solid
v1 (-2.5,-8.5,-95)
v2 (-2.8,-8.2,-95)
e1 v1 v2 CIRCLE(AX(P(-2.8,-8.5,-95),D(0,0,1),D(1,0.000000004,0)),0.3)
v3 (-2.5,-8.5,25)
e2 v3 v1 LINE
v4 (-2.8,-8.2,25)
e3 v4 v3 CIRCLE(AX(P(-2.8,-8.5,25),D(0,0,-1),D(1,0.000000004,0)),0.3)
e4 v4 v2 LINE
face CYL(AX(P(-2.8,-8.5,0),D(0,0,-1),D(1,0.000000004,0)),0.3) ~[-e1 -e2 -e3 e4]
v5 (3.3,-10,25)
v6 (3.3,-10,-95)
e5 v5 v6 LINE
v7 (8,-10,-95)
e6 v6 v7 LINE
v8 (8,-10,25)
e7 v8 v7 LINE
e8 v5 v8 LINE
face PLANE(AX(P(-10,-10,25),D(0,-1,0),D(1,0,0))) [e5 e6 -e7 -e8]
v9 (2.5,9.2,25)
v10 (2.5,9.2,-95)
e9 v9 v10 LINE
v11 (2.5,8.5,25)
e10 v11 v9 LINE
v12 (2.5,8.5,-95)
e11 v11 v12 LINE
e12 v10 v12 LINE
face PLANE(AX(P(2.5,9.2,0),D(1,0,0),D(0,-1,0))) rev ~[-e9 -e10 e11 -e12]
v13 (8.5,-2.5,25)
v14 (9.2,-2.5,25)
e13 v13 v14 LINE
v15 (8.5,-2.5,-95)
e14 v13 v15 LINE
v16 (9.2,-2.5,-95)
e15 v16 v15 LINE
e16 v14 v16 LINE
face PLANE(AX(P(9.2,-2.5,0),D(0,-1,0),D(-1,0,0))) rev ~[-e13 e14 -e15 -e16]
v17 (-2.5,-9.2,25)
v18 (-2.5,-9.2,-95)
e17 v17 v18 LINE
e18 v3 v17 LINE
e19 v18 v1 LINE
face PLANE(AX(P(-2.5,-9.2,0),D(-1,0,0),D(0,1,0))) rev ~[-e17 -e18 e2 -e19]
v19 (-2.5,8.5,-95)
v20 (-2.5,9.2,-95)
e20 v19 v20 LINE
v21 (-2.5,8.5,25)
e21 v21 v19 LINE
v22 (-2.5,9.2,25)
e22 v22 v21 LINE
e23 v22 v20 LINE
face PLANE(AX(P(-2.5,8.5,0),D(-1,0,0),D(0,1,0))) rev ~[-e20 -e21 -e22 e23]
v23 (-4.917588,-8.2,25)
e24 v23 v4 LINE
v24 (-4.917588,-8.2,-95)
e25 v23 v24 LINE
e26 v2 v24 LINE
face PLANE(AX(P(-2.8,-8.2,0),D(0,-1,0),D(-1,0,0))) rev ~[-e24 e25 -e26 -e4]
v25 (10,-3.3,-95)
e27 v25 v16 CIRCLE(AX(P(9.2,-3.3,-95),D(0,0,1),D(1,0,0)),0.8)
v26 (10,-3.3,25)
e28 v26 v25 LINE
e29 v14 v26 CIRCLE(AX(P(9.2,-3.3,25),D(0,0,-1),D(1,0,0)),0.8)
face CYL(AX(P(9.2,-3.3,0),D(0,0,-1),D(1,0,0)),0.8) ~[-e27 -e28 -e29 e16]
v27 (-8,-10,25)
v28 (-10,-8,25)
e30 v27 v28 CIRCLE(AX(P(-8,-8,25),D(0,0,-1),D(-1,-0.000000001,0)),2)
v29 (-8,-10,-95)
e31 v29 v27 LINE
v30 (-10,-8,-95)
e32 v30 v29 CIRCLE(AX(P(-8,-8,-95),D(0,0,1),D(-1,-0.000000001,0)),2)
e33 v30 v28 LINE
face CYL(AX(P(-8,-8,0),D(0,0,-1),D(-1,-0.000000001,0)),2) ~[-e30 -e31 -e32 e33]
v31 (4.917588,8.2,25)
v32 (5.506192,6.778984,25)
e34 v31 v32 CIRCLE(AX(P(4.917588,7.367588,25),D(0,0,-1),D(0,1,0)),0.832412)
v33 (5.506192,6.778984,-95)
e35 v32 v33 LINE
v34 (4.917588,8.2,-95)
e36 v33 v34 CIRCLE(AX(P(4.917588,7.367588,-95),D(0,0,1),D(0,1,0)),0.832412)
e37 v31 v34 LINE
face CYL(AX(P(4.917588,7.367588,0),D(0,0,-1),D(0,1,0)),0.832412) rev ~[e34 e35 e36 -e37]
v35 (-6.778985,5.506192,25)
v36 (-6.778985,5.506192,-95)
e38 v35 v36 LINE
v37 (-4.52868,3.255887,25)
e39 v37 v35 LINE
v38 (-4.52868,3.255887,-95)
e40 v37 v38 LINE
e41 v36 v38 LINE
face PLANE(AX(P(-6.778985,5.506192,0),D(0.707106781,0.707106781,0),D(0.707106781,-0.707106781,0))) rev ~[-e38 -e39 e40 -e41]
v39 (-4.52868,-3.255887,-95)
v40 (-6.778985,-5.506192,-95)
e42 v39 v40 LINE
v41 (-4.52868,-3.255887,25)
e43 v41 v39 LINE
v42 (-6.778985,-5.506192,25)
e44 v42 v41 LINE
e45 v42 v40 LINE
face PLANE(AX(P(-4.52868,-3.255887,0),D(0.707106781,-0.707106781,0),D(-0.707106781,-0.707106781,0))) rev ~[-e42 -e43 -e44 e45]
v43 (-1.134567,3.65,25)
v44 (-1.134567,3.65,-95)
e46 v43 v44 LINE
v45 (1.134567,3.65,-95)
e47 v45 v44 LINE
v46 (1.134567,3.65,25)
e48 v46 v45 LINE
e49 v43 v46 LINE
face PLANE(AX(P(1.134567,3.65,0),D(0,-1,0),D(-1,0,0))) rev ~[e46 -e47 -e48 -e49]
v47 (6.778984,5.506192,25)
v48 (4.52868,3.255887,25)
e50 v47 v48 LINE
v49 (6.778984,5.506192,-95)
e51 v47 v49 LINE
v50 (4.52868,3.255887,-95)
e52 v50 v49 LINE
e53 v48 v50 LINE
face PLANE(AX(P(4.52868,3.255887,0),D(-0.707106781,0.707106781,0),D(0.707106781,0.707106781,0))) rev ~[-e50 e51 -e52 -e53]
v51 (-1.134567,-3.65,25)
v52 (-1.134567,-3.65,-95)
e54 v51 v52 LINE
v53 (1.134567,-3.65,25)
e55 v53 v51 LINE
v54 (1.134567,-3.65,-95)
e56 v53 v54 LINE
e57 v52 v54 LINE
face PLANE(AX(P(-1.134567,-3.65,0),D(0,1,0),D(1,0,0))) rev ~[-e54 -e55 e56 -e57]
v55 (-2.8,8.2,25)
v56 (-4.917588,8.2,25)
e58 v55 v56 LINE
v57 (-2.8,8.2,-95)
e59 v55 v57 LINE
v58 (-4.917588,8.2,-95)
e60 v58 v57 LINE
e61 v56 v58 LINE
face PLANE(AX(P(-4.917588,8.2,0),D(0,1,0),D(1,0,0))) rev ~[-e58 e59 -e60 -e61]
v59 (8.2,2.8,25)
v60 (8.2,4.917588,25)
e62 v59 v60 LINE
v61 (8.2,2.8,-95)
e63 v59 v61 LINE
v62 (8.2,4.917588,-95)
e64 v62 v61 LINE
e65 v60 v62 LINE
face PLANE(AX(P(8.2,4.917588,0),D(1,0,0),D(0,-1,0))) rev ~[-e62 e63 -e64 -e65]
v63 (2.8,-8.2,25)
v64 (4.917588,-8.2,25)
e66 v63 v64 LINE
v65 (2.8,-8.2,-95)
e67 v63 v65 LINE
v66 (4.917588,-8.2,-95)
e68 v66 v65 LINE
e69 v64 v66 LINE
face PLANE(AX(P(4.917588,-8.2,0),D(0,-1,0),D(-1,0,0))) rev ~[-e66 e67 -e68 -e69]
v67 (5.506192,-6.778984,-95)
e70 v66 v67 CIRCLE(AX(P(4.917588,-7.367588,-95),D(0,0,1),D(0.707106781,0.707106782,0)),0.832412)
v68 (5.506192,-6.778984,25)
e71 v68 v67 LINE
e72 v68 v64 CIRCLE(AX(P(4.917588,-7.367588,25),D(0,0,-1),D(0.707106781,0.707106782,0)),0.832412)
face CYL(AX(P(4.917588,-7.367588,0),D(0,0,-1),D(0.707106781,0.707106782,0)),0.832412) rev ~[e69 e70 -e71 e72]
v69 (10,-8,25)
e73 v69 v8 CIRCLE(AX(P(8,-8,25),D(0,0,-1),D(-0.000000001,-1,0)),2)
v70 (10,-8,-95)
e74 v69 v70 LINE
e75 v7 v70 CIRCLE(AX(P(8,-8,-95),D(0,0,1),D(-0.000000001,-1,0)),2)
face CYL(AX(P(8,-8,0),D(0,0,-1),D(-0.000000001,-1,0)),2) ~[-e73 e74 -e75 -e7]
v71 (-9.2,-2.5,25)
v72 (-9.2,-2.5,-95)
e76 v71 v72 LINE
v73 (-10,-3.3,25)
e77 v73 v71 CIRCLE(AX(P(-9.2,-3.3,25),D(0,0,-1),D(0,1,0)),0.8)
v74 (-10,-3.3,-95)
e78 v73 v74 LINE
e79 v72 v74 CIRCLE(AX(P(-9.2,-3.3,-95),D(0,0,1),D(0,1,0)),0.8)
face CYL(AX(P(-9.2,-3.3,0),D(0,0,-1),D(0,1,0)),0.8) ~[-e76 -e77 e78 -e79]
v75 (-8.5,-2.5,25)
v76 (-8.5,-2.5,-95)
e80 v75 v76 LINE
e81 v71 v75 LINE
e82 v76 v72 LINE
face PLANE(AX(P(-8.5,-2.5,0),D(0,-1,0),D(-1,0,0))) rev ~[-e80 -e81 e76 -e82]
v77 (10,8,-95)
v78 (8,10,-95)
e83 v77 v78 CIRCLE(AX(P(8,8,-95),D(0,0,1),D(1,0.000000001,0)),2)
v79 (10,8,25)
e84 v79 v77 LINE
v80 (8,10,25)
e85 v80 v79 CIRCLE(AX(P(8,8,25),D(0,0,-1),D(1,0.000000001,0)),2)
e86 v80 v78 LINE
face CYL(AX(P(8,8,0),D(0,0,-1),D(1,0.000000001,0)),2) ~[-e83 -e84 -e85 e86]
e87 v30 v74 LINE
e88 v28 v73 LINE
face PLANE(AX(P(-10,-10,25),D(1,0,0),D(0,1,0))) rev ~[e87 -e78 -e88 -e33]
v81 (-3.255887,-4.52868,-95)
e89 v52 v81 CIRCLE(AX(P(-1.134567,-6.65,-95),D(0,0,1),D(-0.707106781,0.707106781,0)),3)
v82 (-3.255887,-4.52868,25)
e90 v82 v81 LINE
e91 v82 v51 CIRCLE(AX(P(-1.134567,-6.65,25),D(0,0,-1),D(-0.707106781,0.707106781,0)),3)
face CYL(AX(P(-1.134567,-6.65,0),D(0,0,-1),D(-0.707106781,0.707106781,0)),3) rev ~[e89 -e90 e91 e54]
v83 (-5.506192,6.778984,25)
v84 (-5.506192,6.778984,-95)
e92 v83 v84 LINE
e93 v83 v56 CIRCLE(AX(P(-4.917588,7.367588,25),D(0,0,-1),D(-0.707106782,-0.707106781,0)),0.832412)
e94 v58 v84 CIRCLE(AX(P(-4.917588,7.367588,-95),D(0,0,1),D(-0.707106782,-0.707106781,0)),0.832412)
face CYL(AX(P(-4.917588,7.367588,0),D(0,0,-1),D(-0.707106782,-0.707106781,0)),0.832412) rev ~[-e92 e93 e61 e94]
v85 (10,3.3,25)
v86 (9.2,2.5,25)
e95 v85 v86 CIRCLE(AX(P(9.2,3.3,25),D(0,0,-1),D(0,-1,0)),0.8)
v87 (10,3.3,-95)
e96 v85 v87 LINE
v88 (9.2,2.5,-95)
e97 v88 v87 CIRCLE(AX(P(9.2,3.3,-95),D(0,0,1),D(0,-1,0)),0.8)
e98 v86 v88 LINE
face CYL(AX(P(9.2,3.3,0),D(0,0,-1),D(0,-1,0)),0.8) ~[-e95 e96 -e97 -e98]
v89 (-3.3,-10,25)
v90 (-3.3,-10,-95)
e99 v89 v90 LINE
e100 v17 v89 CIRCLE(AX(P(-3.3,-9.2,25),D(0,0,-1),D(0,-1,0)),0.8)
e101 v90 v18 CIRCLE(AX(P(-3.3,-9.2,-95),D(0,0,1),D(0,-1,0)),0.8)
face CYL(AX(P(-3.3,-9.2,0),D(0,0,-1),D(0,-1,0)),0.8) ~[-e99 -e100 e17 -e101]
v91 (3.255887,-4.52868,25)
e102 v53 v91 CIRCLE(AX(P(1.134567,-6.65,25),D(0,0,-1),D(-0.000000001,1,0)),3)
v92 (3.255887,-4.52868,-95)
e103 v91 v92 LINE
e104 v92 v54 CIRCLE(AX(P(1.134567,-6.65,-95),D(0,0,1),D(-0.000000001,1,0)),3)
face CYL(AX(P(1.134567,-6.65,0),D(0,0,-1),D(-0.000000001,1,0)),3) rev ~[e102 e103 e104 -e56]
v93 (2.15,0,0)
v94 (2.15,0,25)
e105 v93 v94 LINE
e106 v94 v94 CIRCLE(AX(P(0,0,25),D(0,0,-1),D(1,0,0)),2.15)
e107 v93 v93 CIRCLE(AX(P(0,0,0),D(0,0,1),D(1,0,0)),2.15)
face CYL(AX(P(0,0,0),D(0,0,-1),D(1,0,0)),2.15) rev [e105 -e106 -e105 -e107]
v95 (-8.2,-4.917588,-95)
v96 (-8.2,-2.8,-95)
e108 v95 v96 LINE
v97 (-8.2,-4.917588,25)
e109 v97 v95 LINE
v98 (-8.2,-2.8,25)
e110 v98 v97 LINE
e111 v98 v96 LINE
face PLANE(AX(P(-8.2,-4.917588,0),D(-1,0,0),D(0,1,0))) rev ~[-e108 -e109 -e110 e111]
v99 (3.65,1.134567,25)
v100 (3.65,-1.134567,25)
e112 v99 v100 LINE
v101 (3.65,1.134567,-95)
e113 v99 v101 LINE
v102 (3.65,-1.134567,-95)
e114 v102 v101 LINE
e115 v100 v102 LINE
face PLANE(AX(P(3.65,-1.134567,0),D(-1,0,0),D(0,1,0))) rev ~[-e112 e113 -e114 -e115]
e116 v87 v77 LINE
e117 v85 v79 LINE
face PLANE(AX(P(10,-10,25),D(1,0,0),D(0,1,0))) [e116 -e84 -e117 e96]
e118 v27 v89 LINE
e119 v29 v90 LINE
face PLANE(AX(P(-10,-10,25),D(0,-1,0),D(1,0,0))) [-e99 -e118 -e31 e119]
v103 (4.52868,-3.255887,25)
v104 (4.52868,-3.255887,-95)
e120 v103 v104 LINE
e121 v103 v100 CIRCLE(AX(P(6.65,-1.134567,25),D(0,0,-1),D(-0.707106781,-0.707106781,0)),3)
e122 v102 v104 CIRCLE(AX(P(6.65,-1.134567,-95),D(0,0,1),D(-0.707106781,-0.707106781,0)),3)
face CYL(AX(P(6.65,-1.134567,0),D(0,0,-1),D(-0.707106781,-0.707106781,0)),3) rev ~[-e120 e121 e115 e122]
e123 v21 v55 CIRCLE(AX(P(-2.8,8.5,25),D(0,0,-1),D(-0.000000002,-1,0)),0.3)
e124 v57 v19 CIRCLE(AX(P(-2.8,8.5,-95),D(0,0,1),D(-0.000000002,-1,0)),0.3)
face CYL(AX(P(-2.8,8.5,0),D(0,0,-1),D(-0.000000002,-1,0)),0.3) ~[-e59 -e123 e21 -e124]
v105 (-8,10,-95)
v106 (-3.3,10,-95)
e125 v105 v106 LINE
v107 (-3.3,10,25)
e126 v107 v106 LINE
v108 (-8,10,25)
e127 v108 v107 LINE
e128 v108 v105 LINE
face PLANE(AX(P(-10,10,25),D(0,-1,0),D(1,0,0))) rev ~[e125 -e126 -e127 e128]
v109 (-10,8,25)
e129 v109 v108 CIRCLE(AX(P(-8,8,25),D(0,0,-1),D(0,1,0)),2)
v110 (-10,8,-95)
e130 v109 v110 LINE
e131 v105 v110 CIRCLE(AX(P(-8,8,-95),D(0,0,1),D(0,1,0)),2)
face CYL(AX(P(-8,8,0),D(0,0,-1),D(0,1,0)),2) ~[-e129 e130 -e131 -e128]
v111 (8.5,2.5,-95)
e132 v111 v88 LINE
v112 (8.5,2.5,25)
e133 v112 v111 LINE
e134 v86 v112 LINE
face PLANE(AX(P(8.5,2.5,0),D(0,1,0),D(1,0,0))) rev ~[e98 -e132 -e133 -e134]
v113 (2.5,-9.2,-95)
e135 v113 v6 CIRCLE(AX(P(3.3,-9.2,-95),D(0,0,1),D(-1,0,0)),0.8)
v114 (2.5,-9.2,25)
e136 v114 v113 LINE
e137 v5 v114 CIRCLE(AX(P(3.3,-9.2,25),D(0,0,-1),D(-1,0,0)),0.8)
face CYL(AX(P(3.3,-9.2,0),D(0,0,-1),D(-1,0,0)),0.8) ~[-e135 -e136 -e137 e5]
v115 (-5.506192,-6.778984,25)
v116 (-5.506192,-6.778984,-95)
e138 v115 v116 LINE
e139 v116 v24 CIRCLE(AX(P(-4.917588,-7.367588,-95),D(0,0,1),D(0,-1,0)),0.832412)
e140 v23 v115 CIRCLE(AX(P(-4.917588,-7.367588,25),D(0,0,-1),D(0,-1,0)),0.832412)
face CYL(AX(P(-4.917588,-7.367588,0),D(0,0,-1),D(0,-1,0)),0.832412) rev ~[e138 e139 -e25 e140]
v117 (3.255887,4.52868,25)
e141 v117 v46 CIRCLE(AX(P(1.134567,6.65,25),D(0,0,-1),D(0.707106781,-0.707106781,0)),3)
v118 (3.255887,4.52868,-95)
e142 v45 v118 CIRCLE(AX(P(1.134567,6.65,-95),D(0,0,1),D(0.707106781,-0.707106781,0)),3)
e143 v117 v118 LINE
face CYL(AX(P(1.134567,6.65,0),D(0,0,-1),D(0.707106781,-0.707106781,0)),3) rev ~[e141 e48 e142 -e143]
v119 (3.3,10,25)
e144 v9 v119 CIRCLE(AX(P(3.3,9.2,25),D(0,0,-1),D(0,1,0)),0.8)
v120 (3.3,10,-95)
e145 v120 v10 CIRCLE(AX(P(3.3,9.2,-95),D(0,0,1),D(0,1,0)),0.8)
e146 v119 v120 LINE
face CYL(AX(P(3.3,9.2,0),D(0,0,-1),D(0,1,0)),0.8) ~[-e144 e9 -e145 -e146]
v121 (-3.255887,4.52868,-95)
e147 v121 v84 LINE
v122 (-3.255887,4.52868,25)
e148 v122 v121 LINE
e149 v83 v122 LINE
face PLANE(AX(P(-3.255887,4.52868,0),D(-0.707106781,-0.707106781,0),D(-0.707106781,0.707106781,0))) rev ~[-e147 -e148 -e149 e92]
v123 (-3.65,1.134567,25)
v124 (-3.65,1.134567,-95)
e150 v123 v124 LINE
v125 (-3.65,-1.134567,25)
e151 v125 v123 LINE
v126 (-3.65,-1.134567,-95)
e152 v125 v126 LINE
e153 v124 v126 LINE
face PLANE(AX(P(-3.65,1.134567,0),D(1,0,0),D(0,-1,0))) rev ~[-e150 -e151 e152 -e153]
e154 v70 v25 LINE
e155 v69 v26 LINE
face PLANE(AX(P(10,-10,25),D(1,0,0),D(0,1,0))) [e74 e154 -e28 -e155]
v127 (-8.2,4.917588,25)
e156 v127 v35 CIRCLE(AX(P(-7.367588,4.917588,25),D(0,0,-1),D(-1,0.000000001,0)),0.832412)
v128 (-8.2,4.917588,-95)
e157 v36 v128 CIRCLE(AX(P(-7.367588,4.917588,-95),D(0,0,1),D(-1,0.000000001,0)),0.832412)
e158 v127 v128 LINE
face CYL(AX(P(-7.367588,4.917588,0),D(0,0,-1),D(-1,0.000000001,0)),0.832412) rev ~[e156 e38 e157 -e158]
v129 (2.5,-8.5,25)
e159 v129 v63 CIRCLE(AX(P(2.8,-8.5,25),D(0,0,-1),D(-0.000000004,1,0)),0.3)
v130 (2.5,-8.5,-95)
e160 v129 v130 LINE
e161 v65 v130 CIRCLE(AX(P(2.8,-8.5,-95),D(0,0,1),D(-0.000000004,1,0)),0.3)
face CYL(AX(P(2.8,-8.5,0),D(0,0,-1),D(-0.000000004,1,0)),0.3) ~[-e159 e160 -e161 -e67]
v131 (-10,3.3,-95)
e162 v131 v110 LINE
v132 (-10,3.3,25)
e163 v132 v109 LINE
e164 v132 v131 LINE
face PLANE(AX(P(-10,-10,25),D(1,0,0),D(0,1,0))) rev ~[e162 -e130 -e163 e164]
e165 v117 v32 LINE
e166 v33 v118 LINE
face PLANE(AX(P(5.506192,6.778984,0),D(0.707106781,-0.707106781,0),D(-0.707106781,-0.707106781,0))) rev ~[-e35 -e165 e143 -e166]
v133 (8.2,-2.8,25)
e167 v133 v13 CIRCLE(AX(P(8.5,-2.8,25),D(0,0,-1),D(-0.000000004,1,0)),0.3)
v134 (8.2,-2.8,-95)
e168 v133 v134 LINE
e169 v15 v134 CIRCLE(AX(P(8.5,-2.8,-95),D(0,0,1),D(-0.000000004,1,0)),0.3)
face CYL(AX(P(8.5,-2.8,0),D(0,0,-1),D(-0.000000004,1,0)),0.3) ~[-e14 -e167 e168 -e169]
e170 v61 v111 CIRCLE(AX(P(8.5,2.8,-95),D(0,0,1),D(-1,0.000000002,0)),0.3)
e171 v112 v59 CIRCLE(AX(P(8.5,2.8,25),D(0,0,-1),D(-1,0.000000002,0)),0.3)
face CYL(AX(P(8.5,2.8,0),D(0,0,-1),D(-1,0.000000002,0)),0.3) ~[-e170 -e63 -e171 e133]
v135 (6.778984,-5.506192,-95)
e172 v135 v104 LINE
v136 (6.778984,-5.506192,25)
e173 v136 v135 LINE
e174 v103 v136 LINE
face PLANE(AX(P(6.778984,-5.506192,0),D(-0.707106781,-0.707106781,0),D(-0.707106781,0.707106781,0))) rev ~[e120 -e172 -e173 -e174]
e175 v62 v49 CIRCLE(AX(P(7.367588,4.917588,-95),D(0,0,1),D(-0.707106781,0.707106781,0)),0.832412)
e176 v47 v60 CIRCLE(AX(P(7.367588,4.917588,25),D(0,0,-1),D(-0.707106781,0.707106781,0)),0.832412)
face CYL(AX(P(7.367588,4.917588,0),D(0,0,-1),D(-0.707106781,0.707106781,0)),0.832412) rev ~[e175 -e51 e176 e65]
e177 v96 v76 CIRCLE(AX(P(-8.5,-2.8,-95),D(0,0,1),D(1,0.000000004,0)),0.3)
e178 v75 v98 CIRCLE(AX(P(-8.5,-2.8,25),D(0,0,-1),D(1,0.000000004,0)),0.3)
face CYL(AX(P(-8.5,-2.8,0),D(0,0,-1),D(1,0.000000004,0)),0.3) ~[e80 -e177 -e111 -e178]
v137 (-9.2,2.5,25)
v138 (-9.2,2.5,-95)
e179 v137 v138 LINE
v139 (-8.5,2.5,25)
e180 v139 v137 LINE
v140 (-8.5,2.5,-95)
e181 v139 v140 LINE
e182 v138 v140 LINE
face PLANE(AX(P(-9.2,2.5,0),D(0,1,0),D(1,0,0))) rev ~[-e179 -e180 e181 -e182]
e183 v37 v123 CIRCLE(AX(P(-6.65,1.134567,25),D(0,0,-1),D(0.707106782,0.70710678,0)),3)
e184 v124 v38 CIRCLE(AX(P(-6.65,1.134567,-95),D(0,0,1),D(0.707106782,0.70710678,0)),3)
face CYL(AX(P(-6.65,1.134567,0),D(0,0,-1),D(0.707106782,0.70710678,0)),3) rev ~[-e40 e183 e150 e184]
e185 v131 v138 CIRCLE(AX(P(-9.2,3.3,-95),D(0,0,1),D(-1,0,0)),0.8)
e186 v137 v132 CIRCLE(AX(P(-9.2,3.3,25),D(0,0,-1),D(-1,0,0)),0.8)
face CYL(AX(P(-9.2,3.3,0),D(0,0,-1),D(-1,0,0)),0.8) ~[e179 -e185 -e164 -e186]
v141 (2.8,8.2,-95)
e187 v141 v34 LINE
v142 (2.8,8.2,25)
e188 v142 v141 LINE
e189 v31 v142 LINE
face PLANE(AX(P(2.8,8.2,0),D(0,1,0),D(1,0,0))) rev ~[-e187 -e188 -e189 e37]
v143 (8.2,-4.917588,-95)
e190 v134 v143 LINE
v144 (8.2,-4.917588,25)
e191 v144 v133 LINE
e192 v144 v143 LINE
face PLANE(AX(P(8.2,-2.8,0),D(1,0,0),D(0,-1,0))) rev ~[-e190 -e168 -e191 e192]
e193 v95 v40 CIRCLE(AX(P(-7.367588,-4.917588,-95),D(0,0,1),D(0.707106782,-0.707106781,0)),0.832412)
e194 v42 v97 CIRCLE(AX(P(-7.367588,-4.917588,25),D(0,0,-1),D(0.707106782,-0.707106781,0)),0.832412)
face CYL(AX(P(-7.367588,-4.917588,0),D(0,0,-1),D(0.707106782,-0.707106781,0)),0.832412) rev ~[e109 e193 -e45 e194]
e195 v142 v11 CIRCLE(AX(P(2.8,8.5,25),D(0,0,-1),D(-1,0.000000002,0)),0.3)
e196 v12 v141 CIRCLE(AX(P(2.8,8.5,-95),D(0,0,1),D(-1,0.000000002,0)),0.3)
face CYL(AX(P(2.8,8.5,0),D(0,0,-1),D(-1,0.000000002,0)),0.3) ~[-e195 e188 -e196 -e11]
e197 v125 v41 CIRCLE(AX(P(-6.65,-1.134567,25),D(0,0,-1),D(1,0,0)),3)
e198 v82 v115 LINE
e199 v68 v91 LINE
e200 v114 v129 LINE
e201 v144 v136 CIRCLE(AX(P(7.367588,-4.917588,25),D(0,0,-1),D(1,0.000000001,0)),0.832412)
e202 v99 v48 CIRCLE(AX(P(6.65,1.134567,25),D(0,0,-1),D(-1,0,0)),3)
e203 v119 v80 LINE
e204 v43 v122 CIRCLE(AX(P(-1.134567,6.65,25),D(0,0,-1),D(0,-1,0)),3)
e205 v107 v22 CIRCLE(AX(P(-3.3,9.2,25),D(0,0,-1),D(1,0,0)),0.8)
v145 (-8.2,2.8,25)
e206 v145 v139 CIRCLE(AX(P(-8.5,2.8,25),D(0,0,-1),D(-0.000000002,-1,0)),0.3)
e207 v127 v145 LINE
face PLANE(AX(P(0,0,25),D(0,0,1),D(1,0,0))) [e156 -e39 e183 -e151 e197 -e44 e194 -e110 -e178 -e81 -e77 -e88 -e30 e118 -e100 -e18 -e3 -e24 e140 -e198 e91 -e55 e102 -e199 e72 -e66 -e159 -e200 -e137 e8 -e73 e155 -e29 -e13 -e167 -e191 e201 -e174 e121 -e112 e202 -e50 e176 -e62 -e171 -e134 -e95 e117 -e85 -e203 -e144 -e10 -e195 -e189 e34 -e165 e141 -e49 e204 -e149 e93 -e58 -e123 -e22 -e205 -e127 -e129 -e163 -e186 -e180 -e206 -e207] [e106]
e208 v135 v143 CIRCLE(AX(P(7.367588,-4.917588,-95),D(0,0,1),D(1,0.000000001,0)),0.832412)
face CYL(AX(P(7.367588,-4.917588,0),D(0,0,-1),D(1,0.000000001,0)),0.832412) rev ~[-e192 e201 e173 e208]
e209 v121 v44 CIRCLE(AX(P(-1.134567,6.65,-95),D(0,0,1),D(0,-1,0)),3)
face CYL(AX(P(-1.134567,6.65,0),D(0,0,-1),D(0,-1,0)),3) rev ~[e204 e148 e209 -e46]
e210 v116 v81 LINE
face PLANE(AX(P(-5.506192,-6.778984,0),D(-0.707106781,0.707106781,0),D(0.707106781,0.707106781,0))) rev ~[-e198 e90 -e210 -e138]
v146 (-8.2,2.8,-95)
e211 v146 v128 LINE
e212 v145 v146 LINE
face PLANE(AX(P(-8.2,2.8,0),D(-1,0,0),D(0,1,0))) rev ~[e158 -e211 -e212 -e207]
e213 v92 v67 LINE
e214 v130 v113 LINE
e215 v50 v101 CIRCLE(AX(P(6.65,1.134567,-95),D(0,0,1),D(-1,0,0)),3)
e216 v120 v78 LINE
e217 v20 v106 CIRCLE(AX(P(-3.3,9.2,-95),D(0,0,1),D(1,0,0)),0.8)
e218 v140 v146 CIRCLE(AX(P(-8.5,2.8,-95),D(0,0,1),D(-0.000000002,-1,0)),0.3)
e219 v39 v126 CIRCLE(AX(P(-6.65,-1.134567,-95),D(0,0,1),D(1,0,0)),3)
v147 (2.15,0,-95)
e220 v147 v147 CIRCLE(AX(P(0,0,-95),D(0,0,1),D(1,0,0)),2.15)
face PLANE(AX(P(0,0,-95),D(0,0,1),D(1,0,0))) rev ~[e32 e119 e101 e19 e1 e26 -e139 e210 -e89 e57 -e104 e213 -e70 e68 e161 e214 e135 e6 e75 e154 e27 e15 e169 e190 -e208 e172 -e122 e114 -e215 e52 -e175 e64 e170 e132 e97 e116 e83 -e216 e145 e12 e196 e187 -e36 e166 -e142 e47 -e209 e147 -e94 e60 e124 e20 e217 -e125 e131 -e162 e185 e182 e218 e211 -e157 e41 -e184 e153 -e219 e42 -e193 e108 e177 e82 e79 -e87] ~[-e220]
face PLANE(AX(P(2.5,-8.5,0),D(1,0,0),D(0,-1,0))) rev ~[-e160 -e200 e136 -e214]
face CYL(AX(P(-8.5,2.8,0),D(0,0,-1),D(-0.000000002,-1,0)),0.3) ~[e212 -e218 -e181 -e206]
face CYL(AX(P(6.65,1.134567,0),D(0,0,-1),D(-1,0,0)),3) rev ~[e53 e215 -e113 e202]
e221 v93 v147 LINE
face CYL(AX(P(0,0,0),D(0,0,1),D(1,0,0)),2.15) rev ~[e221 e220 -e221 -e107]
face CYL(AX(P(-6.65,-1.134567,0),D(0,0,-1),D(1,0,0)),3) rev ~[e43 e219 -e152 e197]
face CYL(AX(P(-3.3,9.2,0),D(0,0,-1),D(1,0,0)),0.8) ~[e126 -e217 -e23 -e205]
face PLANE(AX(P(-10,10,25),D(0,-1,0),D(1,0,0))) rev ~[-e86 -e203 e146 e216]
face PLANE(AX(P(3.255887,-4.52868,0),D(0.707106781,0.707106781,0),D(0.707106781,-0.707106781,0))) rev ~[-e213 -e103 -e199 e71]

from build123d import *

# Parameters (mm, degrees)
SKETCH4_W              = 20
SKETCH4_H              = 20
BODY_DEPTH             = 120
SKETCH16_OUTSIDE_W     = 46.658
SKETCH16_OUTSIDE_H     = 46.658
SKETCH16_OUTSIDE_R     = 2.15
CUT_PROFILE_DEPTH      = 26
CUT_PROFILE_DEPTH_BACK = 96


with BuildPart() as part:
    # Sketch4 → Body (new body)
    with BuildSketch(Plane.XY.offset(25)):
        Rectangle(SKETCH4_W, SKETCH4_H)
    extrude(amount=-BODY_DEPTH)

    # Sketch16 outside → Cut-Profile (cut, two sides)
    with BuildSketch(Plane.XY) as cut_profile_sk:
        Rectangle(SKETCH16_OUTSIDE_W, SKETCH16_OUTSIDE_H)
        with BuildLine():
            Line((4.917588389, -8.199999991), (2.799999989, -8.199999991))
            ThreePointArc((2.799999989, -8.199999991), (2.587867955, -8.287867957), (2.499999989, -8.499999991))
            Line((2.499999989, -8.499999991), (2.499999989, -9.199999991))
            ThreePointArc((2.499999989, -9.199999991), (2.734314564, -9.765685416), (3.299999989, -9.999999991))
            Line((3.299999989, -9.999999991), (7.999999989, -9.999999991))
            ThreePointArc((7.999999989, -9.999999991), (9.414213552, -9.414213554), (9.999999989, -7.999999991))
            Line((9.999999989, -7.999999991), (9.999999989, -3.299999991))
            ThreePointArc((9.999999989, -3.299999991), (9.765685414, -2.734314566), (9.199999989, -2.499999991))
            Line((9.199999989, -2.499999991), (8.499999989, -2.499999991))
            ThreePointArc((8.499999989, -2.499999991), (8.287867955, -2.587867957), (8.199999989, -2.799999991))
            Line((8.199999989, -2.799999991), (8.199999989, -4.917588391))
            ThreePointArc((8.199999989, -4.917588391), (7.686138511, -5.686636441), (6.778984485, -5.506192286))
            Line((6.778984485, -5.506192286), (4.528679645, -3.255887446))
            ThreePointArc((4.528679645, -3.255887446), (3.878361392, -2.282617401), (3.64999999, -1.134567106))
            Line((3.64999999, -1.134567106), (3.64999999, 1.134567104))
            ThreePointArc((3.64999999, 1.134567104), (3.878361393, 2.282617402), (4.528679647, 3.255887448))
            Line((4.528679647, 3.255887448), (6.778984487, 5.506192288))
            ThreePointArc((6.778984487, 5.506192288), (7.686138506, 5.686636442), (8.199999981, 4.917588398))
            Line((8.199999981, 4.917588398), (8.199999981, 2.799999998))
            ThreePointArc((8.199999981, 2.799999998), (8.287867946, 2.587867964), (8.499999981, 2.499999998))
            Line((8.499999981, 2.499999998), (9.199999981, 2.499999998))
            ThreePointArc((9.199999981, 2.499999998), (9.765685406, 2.734314573), (9.999999981, 3.299999998))
            Line((9.999999981, 3.299999998), (9.999999981, 7.999999998))
            ThreePointArc((9.999999981, 7.999999998), (9.414213543, 9.41421356), (7.999999981, 9.999999998))
            Line((7.999999981, 9.999999998), (3.299999981, 9.999999998))
            ThreePointArc((3.299999981, 9.999999998), (2.734314556, 9.765685423), (2.499999981, 9.199999998))
            Line((2.499999981, 9.199999998), (2.499999981, 8.499999998))
            ThreePointArc((2.499999981, 8.499999998), (2.587867946, 8.287867964), (2.799999981, 8.199999998))
            Line((2.799999981, 8.199999998), (4.917588381, 8.199999998))
            ThreePointArc((4.917588381, 8.199999998), (5.68663643, 7.68613852), (5.506192275, 6.778984494))
            Line((5.506192275, 6.778984494), (3.255887435, 4.528679654))
            ThreePointArc((3.255887435, 4.528679654), (2.28261739, 3.878361401), (1.134567095, 3.649999999))
            Line((1.134567095, 3.649999999), (-1.134567115, 3.649999999))
            ThreePointArc((-1.134567115, 3.649999999), (-2.282617412, 3.878361401), (-3.255887459, 4.528679655))
            Line((-3.255887459, 4.528679655), (-5.506192299, 6.778984495))
            ThreePointArc((-5.506192299, 6.778984495), (-5.686636452, 7.686138515), (-4.917588409, 8.199999989))
            Line((-4.917588409, 8.199999989), (-2.800000009, 8.199999989))
            ThreePointArc((-2.800000009, 8.199999989), (-2.587867974, 8.287867955), (-2.500000009, 8.499999989))
            Line((-2.500000009, 8.499999989), (-2.500000009, 9.199999989))
            ThreePointArc((-2.500000009, 9.199999989), (-2.734314584, 9.765685414), (-3.300000009, 9.999999989))
            Line((-3.300000009, 9.999999989), (-8.000000009, 9.999999989))
            ThreePointArc((-8.000000009, 9.999999989), (-9.414213571, 9.414213552), (-10.000000009, 7.999999989))
            Line((-10.000000009, 7.999999989), (-10.000000009, 3.299999989))
            ThreePointArc((-10.000000009, 3.299999989), (-9.765685434, 2.734314564), (-9.200000009, 2.499999989))
            Line((-9.200000009, 2.499999989), (-8.500000009, 2.499999989))
            ThreePointArc((-8.500000009, 2.499999989), (-8.287867974, 2.587867955), (-8.200000009, 2.799999989))
            Line((-8.200000009, 2.799999989), (-8.200000009, 4.917588389))
            ThreePointArc((-8.200000009, 4.917588389), (-7.686138531, 5.686636438), (-6.778984504, 5.506192284))
            Line((-6.778984504, 5.506192284), (-4.528679664, 3.255887444))
            ThreePointArc((-4.528679664, 3.255887444), (-3.878361412, 2.282617399), (-3.650000009, 1.134567104))
            Line((-3.650000009, 1.134567104), (-3.650000009, -1.134567106))
            ThreePointArc((-3.650000009, -1.134567106), (-3.878361412, -2.282617404), (-4.528679666, -3.25588745))
            Line((-4.528679666, -3.25588745), (-6.778984506, -5.50619229))
            ThreePointArc((-6.778984506, -5.50619229), (-7.686138526, -5.686636444), (-8.2, -4.9175884))
            Line((-8.2, -4.9175884), (-8.2, -2.8))
            ThreePointArc((-8.2, -2.8), (-8.287867966, -2.587867966), (-8.5, -2.5))
            Line((-8.5, -2.5), (-9.2, -2.5))
            ThreePointArc((-9.2, -2.5), (-9.765685425, -2.734314575), (-10, -3.3))
            Line((-10, -3.3), (-10, -8))
            ThreePointArc((-10, -8), (-9.414213562, -9.414213562), (-8, -10))
            Line((-8, -10), (-3.3, -10))
            ThreePointArc((-3.3, -10), (-2.734314575, -9.765685425), (-2.5, -9.2))
            Line((-2.5, -9.2), (-2.5, -8.5))
            ThreePointArc((-2.5, -8.5), (-2.587867966, -8.287867966), (-2.8, -8.2))
            Line((-2.8, -8.2), (-4.9175884, -8.2))
            ThreePointArc((-4.9175884, -8.2), (-5.686636449, -7.686138522), (-5.506192294, -6.778984496))
            Line((-5.506192294, -6.778984496), (-3.255887454, -4.528679656))
            ThreePointArc((-3.255887454, -4.528679656), (-2.282617409, -3.878361403), (-1.134567114, -3.650000001))
            Line((-1.134567114, -3.650000001), (1.134567096, -3.650000001))
            ThreePointArc((1.134567096, -3.650000001), (2.282617393, -3.878361403), (3.255887439, -4.528679657))
            Line((3.255887439, -4.528679657), (5.506192279, -6.778984497))
            ThreePointArc((5.506192279, -6.778984497), (5.686636433, -7.686138517), (4.917588389, -8.199999991))
        make_face(mode=Mode.SUBTRACT)
        Circle(SKETCH16_OUTSIDE_R)
    extrude(amount=CUT_PROFILE_DEPTH, mode=Mode.SUBTRACT)
    extrude(cut_profile_sk.sketch, amount=-CUT_PROFILE_DEPTH_BACK, mode=Mode.SUBTRACT)


solid = part.part
